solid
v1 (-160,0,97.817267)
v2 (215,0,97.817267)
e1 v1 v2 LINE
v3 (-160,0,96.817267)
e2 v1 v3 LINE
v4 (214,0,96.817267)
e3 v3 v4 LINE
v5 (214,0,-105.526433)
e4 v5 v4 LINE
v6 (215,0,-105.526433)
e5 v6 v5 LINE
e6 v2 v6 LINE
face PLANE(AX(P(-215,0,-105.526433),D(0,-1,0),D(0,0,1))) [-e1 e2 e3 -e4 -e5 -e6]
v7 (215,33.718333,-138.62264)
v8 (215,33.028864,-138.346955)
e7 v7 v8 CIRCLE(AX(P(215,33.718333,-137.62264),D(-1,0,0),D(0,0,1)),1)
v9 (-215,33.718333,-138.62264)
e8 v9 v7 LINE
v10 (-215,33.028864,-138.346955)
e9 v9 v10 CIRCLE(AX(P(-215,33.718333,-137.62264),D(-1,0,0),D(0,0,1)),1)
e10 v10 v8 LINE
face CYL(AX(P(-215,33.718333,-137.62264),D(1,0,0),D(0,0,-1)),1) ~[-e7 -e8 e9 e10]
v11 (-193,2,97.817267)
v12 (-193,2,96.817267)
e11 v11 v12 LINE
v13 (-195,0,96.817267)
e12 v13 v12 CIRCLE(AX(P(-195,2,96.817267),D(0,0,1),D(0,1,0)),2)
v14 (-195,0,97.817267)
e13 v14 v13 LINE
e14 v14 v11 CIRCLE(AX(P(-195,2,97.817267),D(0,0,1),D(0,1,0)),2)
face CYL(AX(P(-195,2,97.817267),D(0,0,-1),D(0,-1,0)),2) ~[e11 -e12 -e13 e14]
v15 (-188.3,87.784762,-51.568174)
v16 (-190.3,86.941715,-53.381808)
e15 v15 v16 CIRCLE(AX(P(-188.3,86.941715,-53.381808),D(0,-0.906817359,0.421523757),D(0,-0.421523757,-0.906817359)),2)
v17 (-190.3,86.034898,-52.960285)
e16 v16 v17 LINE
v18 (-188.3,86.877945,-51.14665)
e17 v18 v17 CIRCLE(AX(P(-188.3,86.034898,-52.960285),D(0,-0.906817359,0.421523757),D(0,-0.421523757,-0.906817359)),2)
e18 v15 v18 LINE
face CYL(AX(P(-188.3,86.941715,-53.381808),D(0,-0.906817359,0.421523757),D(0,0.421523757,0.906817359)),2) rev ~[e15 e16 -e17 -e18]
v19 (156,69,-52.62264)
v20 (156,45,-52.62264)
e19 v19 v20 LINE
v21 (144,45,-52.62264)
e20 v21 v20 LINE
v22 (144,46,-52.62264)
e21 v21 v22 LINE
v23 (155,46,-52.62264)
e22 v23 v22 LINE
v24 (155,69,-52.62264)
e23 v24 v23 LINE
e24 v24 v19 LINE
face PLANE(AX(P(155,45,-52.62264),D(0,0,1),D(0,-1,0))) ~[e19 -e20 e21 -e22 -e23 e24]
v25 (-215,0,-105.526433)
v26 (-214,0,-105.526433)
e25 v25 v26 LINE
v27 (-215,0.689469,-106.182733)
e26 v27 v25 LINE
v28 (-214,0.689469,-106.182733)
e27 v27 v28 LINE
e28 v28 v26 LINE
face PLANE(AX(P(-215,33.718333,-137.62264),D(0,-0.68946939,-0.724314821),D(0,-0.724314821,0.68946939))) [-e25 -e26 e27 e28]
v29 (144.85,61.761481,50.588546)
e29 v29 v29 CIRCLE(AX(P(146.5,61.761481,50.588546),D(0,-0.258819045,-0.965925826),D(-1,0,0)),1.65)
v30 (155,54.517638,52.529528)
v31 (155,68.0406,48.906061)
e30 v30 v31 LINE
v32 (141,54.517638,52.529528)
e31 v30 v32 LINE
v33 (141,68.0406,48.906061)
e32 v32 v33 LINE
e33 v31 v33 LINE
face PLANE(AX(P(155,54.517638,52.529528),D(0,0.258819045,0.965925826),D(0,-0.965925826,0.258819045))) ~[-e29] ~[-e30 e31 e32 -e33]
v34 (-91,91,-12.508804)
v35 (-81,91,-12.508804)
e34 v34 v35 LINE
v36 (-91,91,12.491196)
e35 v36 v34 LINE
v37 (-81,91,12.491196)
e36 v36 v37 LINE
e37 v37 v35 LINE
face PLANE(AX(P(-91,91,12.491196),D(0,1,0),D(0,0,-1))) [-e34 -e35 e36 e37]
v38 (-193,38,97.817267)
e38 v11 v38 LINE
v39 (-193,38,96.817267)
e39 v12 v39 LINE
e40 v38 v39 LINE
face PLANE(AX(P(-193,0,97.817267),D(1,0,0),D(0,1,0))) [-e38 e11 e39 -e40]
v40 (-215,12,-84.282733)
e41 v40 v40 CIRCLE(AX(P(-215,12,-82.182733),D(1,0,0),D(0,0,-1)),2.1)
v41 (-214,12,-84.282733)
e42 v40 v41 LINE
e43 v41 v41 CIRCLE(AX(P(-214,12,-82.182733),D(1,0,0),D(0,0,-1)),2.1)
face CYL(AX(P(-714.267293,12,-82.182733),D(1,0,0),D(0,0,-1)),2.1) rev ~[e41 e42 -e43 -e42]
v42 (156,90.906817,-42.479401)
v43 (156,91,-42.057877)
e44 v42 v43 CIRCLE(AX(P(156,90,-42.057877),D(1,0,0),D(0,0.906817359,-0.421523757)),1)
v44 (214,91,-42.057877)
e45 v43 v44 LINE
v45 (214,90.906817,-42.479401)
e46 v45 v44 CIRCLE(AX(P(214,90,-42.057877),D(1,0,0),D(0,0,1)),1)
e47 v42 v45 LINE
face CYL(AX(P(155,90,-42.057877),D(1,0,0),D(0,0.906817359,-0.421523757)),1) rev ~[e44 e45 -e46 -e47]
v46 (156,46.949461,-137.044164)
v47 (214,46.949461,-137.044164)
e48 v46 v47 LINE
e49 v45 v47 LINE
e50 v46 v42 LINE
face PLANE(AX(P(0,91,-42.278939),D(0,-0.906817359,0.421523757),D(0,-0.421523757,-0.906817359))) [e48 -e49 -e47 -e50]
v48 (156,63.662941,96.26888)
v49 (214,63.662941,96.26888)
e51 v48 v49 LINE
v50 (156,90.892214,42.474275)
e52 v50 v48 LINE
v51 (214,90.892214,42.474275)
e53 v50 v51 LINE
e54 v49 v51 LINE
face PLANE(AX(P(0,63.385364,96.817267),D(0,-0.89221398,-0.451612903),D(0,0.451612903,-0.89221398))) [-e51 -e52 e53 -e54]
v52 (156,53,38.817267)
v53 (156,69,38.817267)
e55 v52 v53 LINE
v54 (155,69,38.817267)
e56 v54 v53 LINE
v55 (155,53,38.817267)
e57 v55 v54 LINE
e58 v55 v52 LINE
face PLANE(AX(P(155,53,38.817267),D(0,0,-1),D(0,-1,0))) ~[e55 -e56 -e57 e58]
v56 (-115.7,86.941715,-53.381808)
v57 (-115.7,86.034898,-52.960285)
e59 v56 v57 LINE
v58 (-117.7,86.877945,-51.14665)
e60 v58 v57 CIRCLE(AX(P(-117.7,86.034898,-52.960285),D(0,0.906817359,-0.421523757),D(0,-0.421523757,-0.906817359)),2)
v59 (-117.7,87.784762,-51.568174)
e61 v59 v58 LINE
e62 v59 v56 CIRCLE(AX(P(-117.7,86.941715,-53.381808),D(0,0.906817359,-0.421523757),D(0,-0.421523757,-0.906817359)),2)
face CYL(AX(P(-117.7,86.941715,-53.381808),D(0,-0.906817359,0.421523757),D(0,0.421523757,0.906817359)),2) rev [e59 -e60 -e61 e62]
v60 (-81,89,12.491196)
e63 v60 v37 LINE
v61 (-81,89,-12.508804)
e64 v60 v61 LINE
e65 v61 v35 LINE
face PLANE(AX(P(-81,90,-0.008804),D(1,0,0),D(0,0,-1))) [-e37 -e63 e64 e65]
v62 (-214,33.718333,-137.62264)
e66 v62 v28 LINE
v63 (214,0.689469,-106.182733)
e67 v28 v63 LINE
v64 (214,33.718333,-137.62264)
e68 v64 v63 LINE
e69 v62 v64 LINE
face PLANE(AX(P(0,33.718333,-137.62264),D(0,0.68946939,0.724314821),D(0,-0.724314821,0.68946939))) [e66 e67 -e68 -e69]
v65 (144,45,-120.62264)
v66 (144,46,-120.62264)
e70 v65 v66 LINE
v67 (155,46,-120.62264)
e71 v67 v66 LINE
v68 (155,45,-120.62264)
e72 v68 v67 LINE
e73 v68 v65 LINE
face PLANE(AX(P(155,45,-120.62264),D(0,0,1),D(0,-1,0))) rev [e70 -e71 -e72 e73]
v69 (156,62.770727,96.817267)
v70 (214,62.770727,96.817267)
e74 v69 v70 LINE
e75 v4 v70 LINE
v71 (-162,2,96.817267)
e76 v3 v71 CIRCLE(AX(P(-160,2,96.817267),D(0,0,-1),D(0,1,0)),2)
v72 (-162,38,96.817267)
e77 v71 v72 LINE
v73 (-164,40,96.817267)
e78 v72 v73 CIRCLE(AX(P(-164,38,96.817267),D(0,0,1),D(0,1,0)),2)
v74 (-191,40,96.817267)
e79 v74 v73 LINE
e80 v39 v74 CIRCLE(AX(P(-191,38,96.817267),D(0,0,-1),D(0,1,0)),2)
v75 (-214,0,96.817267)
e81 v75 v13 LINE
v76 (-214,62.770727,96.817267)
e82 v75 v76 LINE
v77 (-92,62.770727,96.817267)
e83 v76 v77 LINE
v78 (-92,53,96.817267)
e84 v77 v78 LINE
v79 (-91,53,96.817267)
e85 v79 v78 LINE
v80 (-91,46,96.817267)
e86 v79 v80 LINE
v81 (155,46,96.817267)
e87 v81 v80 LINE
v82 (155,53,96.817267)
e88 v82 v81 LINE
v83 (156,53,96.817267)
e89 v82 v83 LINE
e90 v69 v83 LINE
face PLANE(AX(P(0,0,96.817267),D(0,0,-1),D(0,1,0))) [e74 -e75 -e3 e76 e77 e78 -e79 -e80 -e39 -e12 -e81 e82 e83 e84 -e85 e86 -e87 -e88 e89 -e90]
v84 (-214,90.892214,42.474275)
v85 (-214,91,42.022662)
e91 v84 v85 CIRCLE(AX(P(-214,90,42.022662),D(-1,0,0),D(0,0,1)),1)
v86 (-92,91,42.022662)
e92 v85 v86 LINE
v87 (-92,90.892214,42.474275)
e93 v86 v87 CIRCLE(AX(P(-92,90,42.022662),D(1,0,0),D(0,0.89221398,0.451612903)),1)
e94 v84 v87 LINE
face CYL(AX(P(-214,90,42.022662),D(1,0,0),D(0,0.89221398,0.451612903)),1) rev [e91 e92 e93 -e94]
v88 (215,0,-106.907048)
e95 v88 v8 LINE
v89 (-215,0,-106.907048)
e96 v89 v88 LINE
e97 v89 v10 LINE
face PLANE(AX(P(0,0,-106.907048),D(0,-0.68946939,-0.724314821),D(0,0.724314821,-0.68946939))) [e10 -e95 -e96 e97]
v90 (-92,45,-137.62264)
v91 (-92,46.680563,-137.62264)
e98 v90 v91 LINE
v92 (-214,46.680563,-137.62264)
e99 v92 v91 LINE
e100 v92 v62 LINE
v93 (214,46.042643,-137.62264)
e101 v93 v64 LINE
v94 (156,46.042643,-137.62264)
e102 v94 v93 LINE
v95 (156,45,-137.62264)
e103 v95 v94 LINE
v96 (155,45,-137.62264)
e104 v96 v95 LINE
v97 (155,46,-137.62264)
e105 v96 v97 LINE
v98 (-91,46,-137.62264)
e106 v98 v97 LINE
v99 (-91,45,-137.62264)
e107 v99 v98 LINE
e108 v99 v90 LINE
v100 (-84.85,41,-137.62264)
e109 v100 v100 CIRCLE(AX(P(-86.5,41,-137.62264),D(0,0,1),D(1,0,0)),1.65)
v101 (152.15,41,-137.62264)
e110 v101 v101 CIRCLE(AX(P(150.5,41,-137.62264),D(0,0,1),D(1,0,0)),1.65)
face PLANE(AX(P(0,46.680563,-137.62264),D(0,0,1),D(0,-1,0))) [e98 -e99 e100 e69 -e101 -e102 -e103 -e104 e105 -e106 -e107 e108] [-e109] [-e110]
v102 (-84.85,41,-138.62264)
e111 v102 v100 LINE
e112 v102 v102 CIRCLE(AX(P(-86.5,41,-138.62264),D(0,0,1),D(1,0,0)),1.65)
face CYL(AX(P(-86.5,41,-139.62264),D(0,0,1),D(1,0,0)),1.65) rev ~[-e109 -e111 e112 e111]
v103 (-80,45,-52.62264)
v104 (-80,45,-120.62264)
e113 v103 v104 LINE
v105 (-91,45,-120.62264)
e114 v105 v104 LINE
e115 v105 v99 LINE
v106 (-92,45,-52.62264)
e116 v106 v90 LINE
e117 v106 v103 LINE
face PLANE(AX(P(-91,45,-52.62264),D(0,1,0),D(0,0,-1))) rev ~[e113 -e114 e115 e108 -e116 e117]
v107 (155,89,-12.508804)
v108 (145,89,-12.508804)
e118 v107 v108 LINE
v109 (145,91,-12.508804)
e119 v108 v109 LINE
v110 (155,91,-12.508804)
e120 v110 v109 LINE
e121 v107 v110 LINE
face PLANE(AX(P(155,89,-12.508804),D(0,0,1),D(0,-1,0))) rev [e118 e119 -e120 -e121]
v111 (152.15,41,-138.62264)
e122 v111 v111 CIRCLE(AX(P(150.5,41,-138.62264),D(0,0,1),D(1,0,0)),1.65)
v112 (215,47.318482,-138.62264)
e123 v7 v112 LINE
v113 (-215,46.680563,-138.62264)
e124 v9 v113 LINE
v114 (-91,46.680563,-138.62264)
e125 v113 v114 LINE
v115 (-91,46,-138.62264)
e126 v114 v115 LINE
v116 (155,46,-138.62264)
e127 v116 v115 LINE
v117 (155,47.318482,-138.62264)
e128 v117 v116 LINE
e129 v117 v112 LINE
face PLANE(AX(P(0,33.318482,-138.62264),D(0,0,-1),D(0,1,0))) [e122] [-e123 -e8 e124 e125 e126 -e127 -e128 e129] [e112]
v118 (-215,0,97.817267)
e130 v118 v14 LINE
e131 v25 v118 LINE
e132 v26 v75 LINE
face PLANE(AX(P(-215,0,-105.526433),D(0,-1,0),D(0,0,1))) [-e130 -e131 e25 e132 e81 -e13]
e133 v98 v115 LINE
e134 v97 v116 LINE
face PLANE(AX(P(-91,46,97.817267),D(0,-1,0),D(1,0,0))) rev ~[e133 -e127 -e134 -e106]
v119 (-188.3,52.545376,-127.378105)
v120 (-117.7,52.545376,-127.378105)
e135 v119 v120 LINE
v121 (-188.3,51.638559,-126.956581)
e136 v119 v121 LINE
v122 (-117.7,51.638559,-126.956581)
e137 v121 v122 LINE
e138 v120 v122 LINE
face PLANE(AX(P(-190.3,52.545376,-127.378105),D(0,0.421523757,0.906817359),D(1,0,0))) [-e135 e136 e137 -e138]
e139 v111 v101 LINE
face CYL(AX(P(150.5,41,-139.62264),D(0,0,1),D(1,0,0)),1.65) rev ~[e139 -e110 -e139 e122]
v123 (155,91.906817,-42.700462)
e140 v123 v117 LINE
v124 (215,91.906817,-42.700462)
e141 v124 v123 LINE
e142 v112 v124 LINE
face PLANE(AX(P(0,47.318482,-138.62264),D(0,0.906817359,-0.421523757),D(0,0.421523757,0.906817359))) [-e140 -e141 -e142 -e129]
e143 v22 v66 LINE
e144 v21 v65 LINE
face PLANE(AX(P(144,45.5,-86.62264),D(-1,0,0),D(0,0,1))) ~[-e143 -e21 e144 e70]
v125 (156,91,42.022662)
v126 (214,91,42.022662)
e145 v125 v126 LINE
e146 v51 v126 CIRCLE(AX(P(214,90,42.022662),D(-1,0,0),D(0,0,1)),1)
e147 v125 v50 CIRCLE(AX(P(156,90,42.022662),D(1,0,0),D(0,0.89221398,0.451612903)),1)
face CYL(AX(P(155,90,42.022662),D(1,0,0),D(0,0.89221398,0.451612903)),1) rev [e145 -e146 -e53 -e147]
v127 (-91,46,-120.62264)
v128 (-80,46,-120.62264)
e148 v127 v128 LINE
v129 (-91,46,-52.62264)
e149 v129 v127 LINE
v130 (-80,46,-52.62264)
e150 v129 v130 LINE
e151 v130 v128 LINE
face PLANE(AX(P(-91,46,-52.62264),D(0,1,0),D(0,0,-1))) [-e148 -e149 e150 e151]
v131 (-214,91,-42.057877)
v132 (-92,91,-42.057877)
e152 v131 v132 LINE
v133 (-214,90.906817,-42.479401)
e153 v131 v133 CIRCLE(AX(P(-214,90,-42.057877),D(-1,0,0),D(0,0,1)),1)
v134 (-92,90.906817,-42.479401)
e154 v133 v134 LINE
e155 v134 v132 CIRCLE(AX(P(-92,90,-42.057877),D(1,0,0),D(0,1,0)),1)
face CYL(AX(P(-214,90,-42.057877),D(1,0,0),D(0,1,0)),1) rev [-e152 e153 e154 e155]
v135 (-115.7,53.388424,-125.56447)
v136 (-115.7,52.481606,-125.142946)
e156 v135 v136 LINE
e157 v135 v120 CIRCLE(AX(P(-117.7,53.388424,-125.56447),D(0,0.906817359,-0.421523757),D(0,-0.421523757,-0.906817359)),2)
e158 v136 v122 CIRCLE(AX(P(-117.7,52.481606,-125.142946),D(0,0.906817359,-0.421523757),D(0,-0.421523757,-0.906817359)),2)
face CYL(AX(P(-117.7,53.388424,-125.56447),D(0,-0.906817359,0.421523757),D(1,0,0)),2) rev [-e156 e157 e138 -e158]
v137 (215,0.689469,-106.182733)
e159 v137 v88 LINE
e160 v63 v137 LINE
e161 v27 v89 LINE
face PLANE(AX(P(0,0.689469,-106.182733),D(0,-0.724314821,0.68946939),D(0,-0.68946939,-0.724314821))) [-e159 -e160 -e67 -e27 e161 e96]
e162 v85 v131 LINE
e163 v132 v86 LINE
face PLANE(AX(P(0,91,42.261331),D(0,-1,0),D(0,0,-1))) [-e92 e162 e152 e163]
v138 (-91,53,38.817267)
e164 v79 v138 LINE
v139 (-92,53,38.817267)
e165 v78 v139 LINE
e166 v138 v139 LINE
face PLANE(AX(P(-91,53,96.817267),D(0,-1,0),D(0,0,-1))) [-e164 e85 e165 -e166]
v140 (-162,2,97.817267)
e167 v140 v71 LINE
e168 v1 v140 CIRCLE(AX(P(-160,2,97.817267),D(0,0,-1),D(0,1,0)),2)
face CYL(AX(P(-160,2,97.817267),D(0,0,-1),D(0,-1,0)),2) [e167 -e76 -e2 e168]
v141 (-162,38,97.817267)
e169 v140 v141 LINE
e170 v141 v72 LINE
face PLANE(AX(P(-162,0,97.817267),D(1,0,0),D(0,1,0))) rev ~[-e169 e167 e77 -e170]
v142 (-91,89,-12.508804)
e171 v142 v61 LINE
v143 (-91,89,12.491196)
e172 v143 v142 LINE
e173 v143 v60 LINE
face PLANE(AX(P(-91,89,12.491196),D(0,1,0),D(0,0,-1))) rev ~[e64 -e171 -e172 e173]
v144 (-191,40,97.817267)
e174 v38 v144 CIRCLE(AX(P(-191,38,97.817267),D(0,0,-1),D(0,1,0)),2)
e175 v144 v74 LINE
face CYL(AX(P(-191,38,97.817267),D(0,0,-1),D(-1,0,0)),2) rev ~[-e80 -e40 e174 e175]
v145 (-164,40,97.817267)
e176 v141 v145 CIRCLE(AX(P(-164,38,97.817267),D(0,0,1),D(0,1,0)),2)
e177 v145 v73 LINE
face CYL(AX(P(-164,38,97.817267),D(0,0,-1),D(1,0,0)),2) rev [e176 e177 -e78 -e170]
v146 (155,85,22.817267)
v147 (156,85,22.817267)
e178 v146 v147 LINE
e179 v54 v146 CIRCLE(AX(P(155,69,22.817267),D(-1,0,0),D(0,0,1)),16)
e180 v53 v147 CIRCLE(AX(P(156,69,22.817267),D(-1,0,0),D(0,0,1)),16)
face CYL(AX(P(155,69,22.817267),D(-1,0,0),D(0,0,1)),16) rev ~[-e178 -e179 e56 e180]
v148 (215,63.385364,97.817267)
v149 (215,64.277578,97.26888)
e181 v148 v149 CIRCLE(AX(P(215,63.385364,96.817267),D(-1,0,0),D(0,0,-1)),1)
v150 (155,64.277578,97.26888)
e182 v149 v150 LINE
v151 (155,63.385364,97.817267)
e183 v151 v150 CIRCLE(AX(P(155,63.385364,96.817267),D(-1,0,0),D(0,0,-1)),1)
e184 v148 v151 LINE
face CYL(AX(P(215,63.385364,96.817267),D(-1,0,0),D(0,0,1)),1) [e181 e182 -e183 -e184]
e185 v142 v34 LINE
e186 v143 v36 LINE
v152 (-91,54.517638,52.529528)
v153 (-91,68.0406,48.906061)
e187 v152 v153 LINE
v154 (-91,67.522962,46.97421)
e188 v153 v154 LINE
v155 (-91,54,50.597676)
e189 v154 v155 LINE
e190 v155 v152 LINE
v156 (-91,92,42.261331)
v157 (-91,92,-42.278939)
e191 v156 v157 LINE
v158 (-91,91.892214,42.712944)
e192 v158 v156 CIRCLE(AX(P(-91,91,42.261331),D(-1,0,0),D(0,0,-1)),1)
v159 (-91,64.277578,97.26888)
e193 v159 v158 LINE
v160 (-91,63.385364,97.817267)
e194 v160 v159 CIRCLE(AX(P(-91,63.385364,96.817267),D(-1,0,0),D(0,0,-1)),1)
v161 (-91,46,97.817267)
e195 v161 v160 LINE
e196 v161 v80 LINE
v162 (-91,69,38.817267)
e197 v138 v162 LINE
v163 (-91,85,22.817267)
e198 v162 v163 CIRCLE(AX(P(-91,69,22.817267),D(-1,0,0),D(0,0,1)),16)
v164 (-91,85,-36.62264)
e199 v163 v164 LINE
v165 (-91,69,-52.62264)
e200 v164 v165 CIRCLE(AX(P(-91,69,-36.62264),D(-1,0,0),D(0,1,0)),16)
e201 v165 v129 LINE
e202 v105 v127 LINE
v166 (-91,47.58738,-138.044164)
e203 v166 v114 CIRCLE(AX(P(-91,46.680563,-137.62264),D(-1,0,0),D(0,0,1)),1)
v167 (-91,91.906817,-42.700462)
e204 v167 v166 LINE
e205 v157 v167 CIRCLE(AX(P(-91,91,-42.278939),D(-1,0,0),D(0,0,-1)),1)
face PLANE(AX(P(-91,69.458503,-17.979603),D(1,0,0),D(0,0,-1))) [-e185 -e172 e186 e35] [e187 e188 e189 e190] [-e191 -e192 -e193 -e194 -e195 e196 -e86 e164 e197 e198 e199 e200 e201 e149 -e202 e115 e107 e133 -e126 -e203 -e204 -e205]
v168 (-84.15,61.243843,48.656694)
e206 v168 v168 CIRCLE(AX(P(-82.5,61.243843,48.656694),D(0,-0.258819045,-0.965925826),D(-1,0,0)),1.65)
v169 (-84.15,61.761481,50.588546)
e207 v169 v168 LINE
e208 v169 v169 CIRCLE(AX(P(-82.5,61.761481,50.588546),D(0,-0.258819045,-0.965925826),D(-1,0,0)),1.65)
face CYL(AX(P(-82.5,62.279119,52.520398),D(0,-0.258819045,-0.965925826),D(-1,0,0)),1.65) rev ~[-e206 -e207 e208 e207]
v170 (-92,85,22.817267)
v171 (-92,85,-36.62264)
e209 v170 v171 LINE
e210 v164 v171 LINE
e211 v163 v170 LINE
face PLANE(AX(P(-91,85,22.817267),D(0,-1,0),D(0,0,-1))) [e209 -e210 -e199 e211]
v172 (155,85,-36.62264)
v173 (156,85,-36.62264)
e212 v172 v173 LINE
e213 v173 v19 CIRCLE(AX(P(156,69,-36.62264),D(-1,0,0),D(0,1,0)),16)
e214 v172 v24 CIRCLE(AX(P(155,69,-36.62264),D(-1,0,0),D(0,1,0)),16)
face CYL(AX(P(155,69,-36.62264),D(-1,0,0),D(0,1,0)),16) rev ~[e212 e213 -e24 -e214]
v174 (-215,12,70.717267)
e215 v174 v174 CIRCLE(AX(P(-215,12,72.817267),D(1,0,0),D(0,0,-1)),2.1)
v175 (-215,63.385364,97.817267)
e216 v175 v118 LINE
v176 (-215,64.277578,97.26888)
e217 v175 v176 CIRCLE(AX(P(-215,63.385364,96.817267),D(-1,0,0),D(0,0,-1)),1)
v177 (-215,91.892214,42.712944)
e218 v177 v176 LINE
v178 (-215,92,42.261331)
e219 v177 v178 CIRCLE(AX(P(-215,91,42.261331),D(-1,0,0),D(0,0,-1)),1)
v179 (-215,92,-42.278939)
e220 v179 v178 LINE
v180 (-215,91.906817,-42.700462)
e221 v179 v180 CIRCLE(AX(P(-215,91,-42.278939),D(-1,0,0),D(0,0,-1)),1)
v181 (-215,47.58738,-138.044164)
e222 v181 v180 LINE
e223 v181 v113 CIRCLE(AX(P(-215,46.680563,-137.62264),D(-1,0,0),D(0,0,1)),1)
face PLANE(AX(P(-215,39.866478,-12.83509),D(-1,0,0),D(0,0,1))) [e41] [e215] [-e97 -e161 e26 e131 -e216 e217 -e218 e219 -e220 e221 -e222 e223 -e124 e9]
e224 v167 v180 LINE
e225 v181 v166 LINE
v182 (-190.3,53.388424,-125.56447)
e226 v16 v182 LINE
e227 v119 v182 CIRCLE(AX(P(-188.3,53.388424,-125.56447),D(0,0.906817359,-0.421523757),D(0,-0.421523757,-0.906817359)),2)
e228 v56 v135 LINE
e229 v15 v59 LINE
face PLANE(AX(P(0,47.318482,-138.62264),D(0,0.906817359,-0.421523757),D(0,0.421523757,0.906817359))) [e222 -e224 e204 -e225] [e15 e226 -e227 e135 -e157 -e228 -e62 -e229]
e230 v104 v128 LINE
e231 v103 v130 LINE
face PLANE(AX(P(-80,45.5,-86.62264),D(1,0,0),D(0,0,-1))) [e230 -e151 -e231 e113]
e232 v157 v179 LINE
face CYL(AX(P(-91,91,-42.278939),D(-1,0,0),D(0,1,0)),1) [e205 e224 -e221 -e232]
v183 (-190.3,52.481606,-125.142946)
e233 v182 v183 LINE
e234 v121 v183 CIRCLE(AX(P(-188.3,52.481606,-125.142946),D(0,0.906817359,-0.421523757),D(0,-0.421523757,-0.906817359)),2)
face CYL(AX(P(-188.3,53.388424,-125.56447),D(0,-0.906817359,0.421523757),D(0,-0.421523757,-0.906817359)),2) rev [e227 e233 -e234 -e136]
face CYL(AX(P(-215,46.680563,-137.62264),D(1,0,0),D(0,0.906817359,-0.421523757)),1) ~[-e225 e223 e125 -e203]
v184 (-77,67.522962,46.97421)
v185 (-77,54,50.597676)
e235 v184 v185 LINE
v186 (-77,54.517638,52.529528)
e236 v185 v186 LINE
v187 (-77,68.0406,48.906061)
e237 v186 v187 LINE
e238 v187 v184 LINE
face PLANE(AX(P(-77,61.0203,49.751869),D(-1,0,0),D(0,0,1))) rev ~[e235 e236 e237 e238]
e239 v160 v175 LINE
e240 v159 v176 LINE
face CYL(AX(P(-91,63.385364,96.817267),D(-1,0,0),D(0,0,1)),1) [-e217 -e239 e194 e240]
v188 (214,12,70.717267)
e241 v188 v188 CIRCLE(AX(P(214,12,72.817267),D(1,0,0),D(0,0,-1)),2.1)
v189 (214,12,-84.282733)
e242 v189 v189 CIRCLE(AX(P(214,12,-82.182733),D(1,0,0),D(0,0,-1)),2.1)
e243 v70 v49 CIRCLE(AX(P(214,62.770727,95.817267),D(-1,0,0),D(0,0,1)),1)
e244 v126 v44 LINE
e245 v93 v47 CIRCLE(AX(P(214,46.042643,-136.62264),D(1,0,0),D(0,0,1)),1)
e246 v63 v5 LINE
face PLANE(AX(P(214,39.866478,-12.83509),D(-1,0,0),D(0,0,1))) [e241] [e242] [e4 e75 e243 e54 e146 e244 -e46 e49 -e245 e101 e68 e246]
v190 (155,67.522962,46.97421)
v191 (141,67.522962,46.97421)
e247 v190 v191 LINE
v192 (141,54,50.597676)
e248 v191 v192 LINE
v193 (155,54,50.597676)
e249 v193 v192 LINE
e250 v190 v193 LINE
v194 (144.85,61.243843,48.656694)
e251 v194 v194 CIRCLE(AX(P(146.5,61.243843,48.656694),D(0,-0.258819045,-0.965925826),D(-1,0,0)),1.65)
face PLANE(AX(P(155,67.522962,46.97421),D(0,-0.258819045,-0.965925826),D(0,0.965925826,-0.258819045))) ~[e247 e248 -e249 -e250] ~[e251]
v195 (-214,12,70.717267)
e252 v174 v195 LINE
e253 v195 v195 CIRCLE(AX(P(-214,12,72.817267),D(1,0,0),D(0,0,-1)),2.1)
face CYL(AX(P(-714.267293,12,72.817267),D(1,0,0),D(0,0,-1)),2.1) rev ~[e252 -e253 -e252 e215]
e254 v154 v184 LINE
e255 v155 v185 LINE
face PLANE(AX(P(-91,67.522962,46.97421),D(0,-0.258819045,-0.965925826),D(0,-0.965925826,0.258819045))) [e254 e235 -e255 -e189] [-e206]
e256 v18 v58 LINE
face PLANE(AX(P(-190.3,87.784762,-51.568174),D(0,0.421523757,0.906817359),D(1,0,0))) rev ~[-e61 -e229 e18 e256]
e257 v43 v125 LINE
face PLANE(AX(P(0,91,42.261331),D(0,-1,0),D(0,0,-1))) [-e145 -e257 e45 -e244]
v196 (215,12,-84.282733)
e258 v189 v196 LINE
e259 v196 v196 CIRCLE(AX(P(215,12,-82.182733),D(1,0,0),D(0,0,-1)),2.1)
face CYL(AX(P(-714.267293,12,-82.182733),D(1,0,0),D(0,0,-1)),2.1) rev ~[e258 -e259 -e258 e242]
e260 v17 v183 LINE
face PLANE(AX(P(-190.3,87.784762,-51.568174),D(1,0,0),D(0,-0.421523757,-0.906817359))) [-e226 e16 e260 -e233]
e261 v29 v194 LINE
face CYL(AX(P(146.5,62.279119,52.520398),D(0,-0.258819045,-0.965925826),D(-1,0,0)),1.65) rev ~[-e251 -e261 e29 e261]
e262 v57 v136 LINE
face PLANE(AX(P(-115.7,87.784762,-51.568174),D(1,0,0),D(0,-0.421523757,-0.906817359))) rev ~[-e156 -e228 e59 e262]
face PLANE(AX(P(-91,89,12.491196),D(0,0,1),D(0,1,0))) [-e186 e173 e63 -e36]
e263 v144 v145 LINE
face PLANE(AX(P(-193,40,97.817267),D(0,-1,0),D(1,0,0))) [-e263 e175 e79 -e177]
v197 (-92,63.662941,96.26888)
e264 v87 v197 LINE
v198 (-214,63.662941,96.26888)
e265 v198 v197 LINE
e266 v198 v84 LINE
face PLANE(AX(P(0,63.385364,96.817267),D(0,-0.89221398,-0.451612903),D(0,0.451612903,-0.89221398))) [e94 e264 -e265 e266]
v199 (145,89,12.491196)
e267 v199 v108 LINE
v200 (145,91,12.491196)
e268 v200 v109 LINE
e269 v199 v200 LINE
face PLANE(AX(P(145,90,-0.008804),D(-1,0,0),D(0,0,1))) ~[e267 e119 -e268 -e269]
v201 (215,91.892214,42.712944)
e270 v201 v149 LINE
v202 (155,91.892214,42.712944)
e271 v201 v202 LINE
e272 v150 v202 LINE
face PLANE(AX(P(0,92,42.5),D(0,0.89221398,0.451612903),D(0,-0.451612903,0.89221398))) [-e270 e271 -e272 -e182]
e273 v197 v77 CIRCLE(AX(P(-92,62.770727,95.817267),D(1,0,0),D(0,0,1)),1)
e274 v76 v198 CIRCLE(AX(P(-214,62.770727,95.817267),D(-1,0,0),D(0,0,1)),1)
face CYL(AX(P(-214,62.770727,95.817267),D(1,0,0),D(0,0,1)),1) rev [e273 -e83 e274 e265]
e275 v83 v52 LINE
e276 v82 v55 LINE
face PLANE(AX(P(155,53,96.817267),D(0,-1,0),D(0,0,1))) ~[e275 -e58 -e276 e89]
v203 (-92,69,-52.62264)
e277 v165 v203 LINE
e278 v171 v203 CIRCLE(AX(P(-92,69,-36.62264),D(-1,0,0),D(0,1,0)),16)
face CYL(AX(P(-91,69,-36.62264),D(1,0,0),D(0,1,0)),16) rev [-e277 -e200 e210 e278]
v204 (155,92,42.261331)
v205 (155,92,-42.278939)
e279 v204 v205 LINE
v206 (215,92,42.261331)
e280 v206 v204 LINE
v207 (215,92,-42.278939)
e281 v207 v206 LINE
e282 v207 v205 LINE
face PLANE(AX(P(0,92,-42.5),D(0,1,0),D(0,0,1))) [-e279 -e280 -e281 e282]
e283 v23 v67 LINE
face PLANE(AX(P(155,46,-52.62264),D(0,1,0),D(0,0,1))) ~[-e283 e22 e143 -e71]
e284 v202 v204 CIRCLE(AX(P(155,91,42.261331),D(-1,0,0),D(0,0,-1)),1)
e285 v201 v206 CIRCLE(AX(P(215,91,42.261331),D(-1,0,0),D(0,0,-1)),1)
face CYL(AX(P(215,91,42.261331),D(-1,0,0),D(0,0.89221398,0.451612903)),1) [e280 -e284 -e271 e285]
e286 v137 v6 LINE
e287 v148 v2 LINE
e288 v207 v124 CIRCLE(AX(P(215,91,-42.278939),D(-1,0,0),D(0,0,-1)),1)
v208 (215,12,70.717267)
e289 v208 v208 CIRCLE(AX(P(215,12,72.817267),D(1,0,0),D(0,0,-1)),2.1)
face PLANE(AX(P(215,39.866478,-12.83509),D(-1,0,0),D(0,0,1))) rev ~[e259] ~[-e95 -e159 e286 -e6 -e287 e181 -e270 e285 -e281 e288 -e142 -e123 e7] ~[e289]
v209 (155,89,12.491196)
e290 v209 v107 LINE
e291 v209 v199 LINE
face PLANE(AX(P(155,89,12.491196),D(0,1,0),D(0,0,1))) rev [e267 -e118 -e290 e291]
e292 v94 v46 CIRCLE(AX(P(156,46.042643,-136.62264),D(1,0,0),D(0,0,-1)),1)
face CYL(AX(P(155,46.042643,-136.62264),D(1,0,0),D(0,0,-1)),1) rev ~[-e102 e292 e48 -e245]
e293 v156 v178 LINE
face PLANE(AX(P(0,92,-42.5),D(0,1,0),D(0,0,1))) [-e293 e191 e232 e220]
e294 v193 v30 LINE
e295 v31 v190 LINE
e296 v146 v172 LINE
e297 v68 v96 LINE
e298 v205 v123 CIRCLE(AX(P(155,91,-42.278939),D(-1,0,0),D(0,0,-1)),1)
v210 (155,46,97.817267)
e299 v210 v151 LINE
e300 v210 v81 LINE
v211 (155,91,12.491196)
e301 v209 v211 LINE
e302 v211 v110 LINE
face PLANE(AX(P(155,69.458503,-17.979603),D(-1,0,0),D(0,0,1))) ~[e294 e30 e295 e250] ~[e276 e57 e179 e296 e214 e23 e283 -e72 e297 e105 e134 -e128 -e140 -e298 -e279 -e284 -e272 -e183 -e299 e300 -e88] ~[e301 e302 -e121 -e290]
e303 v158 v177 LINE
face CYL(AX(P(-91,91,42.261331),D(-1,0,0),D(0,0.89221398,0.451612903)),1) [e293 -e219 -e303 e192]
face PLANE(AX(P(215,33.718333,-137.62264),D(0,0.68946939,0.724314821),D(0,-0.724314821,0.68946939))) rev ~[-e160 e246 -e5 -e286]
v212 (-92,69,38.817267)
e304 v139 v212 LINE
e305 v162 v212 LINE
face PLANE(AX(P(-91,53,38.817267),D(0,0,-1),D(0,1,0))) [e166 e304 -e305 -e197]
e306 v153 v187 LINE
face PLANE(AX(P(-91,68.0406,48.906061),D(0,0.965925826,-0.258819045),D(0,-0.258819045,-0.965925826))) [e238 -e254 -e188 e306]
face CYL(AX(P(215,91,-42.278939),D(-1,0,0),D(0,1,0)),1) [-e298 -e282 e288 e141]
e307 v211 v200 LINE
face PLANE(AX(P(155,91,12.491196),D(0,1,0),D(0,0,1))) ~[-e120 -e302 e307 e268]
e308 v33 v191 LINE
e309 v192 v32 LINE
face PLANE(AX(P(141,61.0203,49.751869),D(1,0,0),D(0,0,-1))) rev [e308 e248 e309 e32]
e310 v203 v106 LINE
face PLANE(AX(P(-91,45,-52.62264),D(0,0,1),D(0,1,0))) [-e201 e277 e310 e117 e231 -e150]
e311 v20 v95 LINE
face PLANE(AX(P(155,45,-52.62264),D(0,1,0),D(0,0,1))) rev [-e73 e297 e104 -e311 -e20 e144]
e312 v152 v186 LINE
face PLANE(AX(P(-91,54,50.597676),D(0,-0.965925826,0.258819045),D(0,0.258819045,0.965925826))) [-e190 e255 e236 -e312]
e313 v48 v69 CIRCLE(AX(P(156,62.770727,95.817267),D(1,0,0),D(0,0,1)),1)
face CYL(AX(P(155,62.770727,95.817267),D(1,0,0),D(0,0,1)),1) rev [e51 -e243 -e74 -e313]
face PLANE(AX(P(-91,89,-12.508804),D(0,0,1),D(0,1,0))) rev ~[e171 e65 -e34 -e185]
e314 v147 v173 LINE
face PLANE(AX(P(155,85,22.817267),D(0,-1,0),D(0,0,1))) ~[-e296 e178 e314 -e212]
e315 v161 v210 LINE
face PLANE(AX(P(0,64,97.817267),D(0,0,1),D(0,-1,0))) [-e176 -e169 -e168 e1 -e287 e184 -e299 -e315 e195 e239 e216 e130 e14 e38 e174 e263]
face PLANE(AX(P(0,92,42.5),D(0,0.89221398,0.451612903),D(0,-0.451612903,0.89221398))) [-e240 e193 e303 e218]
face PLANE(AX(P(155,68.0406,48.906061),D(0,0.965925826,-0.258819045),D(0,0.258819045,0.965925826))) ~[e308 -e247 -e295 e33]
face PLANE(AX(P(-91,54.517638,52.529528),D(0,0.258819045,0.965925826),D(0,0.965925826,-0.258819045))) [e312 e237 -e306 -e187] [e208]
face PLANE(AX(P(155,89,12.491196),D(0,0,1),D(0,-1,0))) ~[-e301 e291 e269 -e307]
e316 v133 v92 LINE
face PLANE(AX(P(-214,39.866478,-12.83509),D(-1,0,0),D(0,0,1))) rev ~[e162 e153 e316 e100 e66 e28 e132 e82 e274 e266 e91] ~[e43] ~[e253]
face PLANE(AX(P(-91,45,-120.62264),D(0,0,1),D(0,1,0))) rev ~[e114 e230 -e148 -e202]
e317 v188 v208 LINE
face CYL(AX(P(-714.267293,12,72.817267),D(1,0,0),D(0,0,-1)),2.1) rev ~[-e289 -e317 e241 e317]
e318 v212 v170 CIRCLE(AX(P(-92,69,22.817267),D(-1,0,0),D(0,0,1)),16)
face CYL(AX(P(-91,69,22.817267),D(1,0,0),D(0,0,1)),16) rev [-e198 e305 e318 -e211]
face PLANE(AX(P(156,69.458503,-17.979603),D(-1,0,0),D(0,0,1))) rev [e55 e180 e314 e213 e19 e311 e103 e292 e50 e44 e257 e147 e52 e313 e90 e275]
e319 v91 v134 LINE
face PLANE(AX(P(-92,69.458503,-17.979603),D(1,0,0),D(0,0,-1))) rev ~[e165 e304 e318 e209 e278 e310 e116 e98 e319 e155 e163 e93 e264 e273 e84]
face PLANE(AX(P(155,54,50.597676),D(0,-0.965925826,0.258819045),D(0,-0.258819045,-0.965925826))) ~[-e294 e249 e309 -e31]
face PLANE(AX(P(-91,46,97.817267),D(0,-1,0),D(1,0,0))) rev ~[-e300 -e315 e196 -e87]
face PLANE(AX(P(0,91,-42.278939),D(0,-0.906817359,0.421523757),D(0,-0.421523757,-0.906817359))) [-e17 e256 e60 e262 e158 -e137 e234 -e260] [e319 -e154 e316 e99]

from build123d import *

# Parameters (mm, degrees)
EXTRUDE_1_DEPTH         = 215
EXTRUDE_2_DEPTH         = 1
EXTRUDE_3_DEPTH         = 1
SKETCH_4_W              = 246
SKETCH_4_H              = 137.991605588
CUT_EXTRUDE_1_DEPTH     = 333.555002245
CUT_EXTRUDE_2_REACH     = 274.801
SKETCH_5_W              = 74.6
SKETCH_5_H              = 83.6
FILLET_1_R              = 2
CUT_EXTRUDE_3_REACH     = 334.555
SKETCH_7_W              = 31
SKETCH_7_H              = 40
FILLET_2_R              = 2
FILLET_3_R              = 1
HOLE_WIZARD_M41_D       = 4.2
EXTRUDE_4_DEPTH         = 1
SKETCH_14_W             = 68
SKETCH_14_H             = 1
EXTRUDE_5_DEPTH         = 11
SKETCH_15_W             = 25
SKETCH_15_H             = 2
EXTRUDE_6_DEPTH         = 10
EXTRUDE_7_DEPTH         = 14
HOLE_WIZARD_M41_2_D     = 3.3
HOLE_WIZARD_M41_2_DEPTH = 1
HOLE_WIZARD_M42_D       = 3.3
HOLE_WIZARD_M42_DEPTH   = 2


with BuildPart() as part:
    # Эскиз1 → Бобышка-Вытянуть1 (new, symmetric)
    with BuildSketch(Plane(origin=(0, 0, 0), x_dir=(0, 0, -1), z_dir=(1, 0, 0))):
        Polygon((-97.817266744, 64), (-97.817266744, 0), (-96.817266744, 0), (-96.817266744, 63.385363703), (-42.261330955, 91), (42.278938578, 91), (137.622640037, 46.680562515), (137.622640037, 33.718332981), (106.182733256, 0.68946939), (106.907048077, 0), (138.622640037, 33.318481758), (138.622640037, 47.318481758), (42.5, 92), (-42.5, 92), align=None)
    extrude(amount=EXTRUDE_1_DEPTH, both=True)

    # Эскиз2 → Бобышка-Вытянуть2 (add)
    with BuildSketch(Plane(origin=(215, 0, 0), x_dir=(0, 0, -1), z_dir=(1, 0, 0))):
        Polygon((-96.817266744, 0), (-96.817266744, 63.385363703), (-42.261330955, 91), (42.278938578, 91), (137.622640037, 46.680562515), (137.622640037, 33.718332981), (105.526432948, 0), align=None)
    extrude(amount=-EXTRUDE_2_DEPTH)

    # Эскиз3 → Бобышка-Вытянуть3 (add)
    with BuildSketch(Plane.ZY.offset(215)):
        Polygon((96.817266744, 0), (96.817266744, 63.385363703), (42.261330955, 91), (-42.278938578, 91), (-137.622640037, 46.680562515), (-137.622640037, 33.718332981), (-105.526432948, 0), align=None)
    extrude(amount=-EXTRUDE_3_DEPTH)

    # Эскиз4 → Вырез-Вытянуть1 (cut, through all)
    with BuildSketch(Plane.XY.offset(97.817266744)):
        with Locations((32, 114.995802794)):
            Rectangle(SKETCH_4_W, SKETCH_4_H)
    extrude(amount=-CUT_EXTRUDE_1_DEPTH, mode=Mode.SUBTRACT)

    # Эскиз5 → Вырез-Вытянуть2 (cut, up to next)
    with BuildSketch(Plane(origin=(0, 91.898645501, -42.718042324), x_dir=(1, 0, 0), z_dir=(0, 0.9068173588352332, -0.42152375699964034)), mode=Mode.PRIVATE) as cut_extrude_2_sk1:
        with Locations((-153, 51.559552107)):
            Rectangle(SKETCH_5_W, SKETCH_5_H)
    cut_extrude_2_tool1 = extrude(cut_extrude_2_sk1.sketch, amount=-CUT_EXTRUDE_2_REACH, mode=Mode.PRIVATE) & part.part
    add(cut_extrude_2_tool1.solids().sort_by_distance((-153, 70.165069, -89.473139))[0], mode=Mode.SUBTRACT)

    # Скругление1
    fillet_1_edges = [part.edges().sort_by_distance(p)[0] for p in [
        (-115.7, 52.091967665, -127.167342908),
        (-115.7, 87.331353751, -51.35741171),
        (-190.3, 87.331353751, -51.35741171),
        (-190.3, 52.091967665, -127.167342908),
    ]]
    fillet(fillet_1_edges, radius=FILLET_1_R)

    # Эскиз7 → Вырез-Вытянуть3 (cut, up to next)
    with BuildSketch(Plane.XY.offset(97.817266744), mode=Mode.PRIVATE) as cut_extrude_3_sk1:
        with Locations((-177.5, 20)):
            Rectangle(SKETCH_7_W, SKETCH_7_H)
    cut_extrude_3_tool1 = extrude(cut_extrude_3_sk1.sketch, amount=-CUT_EXTRUDE_3_REACH, mode=Mode.PRIVATE) & part.part
    add(cut_extrude_3_tool1.solids().sort_by_distance((-177.5, 20, 97.817267))[0], mode=Mode.SUBTRACT)

    # Скругление2
    fillet_2_edges = [part.edges().sort_by_distance(p)[0] for p in [
        (-162, 0, 97.317266744),
        (-162, 40, 97.317266744),
        (-193, 40, 97.317266744),
        (-193, 0, 97.317266744),
    ]]
    fillet(fillet_2_edges, radius=FILLET_2_R)

    # Скругление3
    fillet_3_edges = [part.edges().sort_by_distance(p)[0] for p in [
        (-152.5, 91, -42.278938578),
        (-152.5, 91, 42.261330955),
        (-152.5, 63.385363703, 96.817266744),
        (185, 92, 42.5),
        (185, 92, -42.5),
        (0, 33.318481758, -138.622640037),
        (185, 64, 97.817266744),
        (184.5, 46.680562515, -137.622640037),
        (184.5, 91, -42.278938578),
        (184.5, 91, 42.261330955),
        (184.5, 63.385363703, 96.817266744),
        (-153, 92, 42.5),
        (-153, 92, -42.5),
        (-153, 47.318481758, -138.622640037),
        (-153, 64, 97.817266744),
    ]]
    fillet(fillet_3_edges, radius=FILLET_3_R)

    # Hole Wizard M41 (through all)
    with Locations(Plane.ZY.offset(215)):
        with Locations((72.817266744, 12), (-82.182733256, 12)):
            Hole(HOLE_WIZARD_M41_D / 2)

    # Эскиз13 → Бобышка-Вытянуть4 (add)
    with BuildSketch(Plane(origin=(-91, 0, 0), x_dir=(0, 0, -1), z_dir=(1, 0, 0))):
        with BuildLine():
            Line((137.622640037, 45), (137.622640037, 46.680562515))
            Line((137.622640037, 46.680562515), (42.278938578, 91))
            Line((42.278938578, 91), (-42.261330955, 91))
            Line((-42.261330955, 91), (-96.817266744, 63.385363703))
            Line((-96.817266744, 63.385363703), (-96.817266744, 53))
            Line((-96.817266744, 53), (-38.817266744, 53))
            Line((-38.817266744, 53), (-38.817266744, 69))
            ThreePointArc((-38.817266744, 69), (-34.130975243, 80.313708499), (-22.817266744, 85))
            Line((-22.817266744, 85), (36.622640037, 85))
            ThreePointArc((36.622640037, 85), (47.936348536, 80.313708499), (52.622640037, 69))
            Line((52.622640037, 69), (52.622640037, 45))
            Line((52.622640037, 45), (137.622640037, 45))
        make_face()
    extrude_4 = extrude(amount=-EXTRUDE_4_DEPTH)

    # Эскиз14 → Бобышка-Вытянуть5 (add)
    with BuildSketch(Plane(origin=(-91, 0, 0), x_dir=(0, 0, -1), z_dir=(1, 0, 0))):
        with Locations((86.622640037, 45.5)):
            Rectangle(SKETCH_14_W, SKETCH_14_H)
    extrude_5 = extrude(amount=EXTRUDE_5_DEPTH)

    # Эскиз15 → Бобышка-Вытянуть6 (add)
    with BuildSketch(Plane(origin=(-91, 0, 0), x_dir=(0, 0, -1), z_dir=(1, 0, 0))):
        with Locations((0.008803811, 90)):
            Rectangle(SKETCH_15_W, SKETCH_15_H)
    extrude_6 = extrude(amount=EXTRUDE_6_DEPTH)

    # Эскиз16 → Бобышка-Вытянуть7 (add)
    with BuildSketch(Plane(origin=(-91, 0, 0), x_dir=(0, 0, -1), z_dir=(1, 0, 0))):
        Polygon((-52.529527952, 54.51763809), (-48.906061321, 68.040599658), (-46.974209668, 67.522961568), (-50.5976763, 54), align=None)
    extrude_7 = extrude(amount=EXTRUDE_7_DEPTH)

    # Зеркальное отражение1: Бобышка-Вытянуть4, Бобышка-Вытянуть5, Бобышка-Вытянуть6, Бобышка-Вытянуть7 across plane
    add(extrude_4.mirror(Plane(origin=(32, 0, 0), x_dir=(0, 0, 1), z_dir=(1, 0, 0))))
    add(extrude_5.mirror(Plane(origin=(32, 0, 0), x_dir=(0, 0, 1), z_dir=(1, 0, 0))))
    add(extrude_6.mirror(Plane(origin=(32, 0, 0), x_dir=(0, 0, 1), z_dir=(1, 0, 0))))
    add(extrude_7.mirror(Plane(origin=(32, 0, 0), x_dir=(0, 0, 1), z_dir=(1, 0, 0))))

    # Hole Wizard M41 2
    with Locations(Plane(origin=(0, 0, -138.622640037), x_dir=(-1, 0, 0), z_dir=(0, 0, -1))):
        with Locations((-150.5, 41), (86.5, 41)):
            Hole(HOLE_WIZARD_M41_2_D / 2, depth=HOLE_WIZARD_M41_2_DEPTH)

    # Отверстие обработанное метчиком M42
    with Locations(Plane(origin=(0, 16.784371263, 62.640126326), x_dir=(1, 0, 0), z_dir=(0, 0.2588190451025141, 0.9659258262890702))):
        with Locations((-82.5, 46.563730151), (146.5, 46.563730151)):
            Hole(HOLE_WIZARD_M42_D / 2, depth=HOLE_WIZARD_M42_DEPTH)


solid = part.part
